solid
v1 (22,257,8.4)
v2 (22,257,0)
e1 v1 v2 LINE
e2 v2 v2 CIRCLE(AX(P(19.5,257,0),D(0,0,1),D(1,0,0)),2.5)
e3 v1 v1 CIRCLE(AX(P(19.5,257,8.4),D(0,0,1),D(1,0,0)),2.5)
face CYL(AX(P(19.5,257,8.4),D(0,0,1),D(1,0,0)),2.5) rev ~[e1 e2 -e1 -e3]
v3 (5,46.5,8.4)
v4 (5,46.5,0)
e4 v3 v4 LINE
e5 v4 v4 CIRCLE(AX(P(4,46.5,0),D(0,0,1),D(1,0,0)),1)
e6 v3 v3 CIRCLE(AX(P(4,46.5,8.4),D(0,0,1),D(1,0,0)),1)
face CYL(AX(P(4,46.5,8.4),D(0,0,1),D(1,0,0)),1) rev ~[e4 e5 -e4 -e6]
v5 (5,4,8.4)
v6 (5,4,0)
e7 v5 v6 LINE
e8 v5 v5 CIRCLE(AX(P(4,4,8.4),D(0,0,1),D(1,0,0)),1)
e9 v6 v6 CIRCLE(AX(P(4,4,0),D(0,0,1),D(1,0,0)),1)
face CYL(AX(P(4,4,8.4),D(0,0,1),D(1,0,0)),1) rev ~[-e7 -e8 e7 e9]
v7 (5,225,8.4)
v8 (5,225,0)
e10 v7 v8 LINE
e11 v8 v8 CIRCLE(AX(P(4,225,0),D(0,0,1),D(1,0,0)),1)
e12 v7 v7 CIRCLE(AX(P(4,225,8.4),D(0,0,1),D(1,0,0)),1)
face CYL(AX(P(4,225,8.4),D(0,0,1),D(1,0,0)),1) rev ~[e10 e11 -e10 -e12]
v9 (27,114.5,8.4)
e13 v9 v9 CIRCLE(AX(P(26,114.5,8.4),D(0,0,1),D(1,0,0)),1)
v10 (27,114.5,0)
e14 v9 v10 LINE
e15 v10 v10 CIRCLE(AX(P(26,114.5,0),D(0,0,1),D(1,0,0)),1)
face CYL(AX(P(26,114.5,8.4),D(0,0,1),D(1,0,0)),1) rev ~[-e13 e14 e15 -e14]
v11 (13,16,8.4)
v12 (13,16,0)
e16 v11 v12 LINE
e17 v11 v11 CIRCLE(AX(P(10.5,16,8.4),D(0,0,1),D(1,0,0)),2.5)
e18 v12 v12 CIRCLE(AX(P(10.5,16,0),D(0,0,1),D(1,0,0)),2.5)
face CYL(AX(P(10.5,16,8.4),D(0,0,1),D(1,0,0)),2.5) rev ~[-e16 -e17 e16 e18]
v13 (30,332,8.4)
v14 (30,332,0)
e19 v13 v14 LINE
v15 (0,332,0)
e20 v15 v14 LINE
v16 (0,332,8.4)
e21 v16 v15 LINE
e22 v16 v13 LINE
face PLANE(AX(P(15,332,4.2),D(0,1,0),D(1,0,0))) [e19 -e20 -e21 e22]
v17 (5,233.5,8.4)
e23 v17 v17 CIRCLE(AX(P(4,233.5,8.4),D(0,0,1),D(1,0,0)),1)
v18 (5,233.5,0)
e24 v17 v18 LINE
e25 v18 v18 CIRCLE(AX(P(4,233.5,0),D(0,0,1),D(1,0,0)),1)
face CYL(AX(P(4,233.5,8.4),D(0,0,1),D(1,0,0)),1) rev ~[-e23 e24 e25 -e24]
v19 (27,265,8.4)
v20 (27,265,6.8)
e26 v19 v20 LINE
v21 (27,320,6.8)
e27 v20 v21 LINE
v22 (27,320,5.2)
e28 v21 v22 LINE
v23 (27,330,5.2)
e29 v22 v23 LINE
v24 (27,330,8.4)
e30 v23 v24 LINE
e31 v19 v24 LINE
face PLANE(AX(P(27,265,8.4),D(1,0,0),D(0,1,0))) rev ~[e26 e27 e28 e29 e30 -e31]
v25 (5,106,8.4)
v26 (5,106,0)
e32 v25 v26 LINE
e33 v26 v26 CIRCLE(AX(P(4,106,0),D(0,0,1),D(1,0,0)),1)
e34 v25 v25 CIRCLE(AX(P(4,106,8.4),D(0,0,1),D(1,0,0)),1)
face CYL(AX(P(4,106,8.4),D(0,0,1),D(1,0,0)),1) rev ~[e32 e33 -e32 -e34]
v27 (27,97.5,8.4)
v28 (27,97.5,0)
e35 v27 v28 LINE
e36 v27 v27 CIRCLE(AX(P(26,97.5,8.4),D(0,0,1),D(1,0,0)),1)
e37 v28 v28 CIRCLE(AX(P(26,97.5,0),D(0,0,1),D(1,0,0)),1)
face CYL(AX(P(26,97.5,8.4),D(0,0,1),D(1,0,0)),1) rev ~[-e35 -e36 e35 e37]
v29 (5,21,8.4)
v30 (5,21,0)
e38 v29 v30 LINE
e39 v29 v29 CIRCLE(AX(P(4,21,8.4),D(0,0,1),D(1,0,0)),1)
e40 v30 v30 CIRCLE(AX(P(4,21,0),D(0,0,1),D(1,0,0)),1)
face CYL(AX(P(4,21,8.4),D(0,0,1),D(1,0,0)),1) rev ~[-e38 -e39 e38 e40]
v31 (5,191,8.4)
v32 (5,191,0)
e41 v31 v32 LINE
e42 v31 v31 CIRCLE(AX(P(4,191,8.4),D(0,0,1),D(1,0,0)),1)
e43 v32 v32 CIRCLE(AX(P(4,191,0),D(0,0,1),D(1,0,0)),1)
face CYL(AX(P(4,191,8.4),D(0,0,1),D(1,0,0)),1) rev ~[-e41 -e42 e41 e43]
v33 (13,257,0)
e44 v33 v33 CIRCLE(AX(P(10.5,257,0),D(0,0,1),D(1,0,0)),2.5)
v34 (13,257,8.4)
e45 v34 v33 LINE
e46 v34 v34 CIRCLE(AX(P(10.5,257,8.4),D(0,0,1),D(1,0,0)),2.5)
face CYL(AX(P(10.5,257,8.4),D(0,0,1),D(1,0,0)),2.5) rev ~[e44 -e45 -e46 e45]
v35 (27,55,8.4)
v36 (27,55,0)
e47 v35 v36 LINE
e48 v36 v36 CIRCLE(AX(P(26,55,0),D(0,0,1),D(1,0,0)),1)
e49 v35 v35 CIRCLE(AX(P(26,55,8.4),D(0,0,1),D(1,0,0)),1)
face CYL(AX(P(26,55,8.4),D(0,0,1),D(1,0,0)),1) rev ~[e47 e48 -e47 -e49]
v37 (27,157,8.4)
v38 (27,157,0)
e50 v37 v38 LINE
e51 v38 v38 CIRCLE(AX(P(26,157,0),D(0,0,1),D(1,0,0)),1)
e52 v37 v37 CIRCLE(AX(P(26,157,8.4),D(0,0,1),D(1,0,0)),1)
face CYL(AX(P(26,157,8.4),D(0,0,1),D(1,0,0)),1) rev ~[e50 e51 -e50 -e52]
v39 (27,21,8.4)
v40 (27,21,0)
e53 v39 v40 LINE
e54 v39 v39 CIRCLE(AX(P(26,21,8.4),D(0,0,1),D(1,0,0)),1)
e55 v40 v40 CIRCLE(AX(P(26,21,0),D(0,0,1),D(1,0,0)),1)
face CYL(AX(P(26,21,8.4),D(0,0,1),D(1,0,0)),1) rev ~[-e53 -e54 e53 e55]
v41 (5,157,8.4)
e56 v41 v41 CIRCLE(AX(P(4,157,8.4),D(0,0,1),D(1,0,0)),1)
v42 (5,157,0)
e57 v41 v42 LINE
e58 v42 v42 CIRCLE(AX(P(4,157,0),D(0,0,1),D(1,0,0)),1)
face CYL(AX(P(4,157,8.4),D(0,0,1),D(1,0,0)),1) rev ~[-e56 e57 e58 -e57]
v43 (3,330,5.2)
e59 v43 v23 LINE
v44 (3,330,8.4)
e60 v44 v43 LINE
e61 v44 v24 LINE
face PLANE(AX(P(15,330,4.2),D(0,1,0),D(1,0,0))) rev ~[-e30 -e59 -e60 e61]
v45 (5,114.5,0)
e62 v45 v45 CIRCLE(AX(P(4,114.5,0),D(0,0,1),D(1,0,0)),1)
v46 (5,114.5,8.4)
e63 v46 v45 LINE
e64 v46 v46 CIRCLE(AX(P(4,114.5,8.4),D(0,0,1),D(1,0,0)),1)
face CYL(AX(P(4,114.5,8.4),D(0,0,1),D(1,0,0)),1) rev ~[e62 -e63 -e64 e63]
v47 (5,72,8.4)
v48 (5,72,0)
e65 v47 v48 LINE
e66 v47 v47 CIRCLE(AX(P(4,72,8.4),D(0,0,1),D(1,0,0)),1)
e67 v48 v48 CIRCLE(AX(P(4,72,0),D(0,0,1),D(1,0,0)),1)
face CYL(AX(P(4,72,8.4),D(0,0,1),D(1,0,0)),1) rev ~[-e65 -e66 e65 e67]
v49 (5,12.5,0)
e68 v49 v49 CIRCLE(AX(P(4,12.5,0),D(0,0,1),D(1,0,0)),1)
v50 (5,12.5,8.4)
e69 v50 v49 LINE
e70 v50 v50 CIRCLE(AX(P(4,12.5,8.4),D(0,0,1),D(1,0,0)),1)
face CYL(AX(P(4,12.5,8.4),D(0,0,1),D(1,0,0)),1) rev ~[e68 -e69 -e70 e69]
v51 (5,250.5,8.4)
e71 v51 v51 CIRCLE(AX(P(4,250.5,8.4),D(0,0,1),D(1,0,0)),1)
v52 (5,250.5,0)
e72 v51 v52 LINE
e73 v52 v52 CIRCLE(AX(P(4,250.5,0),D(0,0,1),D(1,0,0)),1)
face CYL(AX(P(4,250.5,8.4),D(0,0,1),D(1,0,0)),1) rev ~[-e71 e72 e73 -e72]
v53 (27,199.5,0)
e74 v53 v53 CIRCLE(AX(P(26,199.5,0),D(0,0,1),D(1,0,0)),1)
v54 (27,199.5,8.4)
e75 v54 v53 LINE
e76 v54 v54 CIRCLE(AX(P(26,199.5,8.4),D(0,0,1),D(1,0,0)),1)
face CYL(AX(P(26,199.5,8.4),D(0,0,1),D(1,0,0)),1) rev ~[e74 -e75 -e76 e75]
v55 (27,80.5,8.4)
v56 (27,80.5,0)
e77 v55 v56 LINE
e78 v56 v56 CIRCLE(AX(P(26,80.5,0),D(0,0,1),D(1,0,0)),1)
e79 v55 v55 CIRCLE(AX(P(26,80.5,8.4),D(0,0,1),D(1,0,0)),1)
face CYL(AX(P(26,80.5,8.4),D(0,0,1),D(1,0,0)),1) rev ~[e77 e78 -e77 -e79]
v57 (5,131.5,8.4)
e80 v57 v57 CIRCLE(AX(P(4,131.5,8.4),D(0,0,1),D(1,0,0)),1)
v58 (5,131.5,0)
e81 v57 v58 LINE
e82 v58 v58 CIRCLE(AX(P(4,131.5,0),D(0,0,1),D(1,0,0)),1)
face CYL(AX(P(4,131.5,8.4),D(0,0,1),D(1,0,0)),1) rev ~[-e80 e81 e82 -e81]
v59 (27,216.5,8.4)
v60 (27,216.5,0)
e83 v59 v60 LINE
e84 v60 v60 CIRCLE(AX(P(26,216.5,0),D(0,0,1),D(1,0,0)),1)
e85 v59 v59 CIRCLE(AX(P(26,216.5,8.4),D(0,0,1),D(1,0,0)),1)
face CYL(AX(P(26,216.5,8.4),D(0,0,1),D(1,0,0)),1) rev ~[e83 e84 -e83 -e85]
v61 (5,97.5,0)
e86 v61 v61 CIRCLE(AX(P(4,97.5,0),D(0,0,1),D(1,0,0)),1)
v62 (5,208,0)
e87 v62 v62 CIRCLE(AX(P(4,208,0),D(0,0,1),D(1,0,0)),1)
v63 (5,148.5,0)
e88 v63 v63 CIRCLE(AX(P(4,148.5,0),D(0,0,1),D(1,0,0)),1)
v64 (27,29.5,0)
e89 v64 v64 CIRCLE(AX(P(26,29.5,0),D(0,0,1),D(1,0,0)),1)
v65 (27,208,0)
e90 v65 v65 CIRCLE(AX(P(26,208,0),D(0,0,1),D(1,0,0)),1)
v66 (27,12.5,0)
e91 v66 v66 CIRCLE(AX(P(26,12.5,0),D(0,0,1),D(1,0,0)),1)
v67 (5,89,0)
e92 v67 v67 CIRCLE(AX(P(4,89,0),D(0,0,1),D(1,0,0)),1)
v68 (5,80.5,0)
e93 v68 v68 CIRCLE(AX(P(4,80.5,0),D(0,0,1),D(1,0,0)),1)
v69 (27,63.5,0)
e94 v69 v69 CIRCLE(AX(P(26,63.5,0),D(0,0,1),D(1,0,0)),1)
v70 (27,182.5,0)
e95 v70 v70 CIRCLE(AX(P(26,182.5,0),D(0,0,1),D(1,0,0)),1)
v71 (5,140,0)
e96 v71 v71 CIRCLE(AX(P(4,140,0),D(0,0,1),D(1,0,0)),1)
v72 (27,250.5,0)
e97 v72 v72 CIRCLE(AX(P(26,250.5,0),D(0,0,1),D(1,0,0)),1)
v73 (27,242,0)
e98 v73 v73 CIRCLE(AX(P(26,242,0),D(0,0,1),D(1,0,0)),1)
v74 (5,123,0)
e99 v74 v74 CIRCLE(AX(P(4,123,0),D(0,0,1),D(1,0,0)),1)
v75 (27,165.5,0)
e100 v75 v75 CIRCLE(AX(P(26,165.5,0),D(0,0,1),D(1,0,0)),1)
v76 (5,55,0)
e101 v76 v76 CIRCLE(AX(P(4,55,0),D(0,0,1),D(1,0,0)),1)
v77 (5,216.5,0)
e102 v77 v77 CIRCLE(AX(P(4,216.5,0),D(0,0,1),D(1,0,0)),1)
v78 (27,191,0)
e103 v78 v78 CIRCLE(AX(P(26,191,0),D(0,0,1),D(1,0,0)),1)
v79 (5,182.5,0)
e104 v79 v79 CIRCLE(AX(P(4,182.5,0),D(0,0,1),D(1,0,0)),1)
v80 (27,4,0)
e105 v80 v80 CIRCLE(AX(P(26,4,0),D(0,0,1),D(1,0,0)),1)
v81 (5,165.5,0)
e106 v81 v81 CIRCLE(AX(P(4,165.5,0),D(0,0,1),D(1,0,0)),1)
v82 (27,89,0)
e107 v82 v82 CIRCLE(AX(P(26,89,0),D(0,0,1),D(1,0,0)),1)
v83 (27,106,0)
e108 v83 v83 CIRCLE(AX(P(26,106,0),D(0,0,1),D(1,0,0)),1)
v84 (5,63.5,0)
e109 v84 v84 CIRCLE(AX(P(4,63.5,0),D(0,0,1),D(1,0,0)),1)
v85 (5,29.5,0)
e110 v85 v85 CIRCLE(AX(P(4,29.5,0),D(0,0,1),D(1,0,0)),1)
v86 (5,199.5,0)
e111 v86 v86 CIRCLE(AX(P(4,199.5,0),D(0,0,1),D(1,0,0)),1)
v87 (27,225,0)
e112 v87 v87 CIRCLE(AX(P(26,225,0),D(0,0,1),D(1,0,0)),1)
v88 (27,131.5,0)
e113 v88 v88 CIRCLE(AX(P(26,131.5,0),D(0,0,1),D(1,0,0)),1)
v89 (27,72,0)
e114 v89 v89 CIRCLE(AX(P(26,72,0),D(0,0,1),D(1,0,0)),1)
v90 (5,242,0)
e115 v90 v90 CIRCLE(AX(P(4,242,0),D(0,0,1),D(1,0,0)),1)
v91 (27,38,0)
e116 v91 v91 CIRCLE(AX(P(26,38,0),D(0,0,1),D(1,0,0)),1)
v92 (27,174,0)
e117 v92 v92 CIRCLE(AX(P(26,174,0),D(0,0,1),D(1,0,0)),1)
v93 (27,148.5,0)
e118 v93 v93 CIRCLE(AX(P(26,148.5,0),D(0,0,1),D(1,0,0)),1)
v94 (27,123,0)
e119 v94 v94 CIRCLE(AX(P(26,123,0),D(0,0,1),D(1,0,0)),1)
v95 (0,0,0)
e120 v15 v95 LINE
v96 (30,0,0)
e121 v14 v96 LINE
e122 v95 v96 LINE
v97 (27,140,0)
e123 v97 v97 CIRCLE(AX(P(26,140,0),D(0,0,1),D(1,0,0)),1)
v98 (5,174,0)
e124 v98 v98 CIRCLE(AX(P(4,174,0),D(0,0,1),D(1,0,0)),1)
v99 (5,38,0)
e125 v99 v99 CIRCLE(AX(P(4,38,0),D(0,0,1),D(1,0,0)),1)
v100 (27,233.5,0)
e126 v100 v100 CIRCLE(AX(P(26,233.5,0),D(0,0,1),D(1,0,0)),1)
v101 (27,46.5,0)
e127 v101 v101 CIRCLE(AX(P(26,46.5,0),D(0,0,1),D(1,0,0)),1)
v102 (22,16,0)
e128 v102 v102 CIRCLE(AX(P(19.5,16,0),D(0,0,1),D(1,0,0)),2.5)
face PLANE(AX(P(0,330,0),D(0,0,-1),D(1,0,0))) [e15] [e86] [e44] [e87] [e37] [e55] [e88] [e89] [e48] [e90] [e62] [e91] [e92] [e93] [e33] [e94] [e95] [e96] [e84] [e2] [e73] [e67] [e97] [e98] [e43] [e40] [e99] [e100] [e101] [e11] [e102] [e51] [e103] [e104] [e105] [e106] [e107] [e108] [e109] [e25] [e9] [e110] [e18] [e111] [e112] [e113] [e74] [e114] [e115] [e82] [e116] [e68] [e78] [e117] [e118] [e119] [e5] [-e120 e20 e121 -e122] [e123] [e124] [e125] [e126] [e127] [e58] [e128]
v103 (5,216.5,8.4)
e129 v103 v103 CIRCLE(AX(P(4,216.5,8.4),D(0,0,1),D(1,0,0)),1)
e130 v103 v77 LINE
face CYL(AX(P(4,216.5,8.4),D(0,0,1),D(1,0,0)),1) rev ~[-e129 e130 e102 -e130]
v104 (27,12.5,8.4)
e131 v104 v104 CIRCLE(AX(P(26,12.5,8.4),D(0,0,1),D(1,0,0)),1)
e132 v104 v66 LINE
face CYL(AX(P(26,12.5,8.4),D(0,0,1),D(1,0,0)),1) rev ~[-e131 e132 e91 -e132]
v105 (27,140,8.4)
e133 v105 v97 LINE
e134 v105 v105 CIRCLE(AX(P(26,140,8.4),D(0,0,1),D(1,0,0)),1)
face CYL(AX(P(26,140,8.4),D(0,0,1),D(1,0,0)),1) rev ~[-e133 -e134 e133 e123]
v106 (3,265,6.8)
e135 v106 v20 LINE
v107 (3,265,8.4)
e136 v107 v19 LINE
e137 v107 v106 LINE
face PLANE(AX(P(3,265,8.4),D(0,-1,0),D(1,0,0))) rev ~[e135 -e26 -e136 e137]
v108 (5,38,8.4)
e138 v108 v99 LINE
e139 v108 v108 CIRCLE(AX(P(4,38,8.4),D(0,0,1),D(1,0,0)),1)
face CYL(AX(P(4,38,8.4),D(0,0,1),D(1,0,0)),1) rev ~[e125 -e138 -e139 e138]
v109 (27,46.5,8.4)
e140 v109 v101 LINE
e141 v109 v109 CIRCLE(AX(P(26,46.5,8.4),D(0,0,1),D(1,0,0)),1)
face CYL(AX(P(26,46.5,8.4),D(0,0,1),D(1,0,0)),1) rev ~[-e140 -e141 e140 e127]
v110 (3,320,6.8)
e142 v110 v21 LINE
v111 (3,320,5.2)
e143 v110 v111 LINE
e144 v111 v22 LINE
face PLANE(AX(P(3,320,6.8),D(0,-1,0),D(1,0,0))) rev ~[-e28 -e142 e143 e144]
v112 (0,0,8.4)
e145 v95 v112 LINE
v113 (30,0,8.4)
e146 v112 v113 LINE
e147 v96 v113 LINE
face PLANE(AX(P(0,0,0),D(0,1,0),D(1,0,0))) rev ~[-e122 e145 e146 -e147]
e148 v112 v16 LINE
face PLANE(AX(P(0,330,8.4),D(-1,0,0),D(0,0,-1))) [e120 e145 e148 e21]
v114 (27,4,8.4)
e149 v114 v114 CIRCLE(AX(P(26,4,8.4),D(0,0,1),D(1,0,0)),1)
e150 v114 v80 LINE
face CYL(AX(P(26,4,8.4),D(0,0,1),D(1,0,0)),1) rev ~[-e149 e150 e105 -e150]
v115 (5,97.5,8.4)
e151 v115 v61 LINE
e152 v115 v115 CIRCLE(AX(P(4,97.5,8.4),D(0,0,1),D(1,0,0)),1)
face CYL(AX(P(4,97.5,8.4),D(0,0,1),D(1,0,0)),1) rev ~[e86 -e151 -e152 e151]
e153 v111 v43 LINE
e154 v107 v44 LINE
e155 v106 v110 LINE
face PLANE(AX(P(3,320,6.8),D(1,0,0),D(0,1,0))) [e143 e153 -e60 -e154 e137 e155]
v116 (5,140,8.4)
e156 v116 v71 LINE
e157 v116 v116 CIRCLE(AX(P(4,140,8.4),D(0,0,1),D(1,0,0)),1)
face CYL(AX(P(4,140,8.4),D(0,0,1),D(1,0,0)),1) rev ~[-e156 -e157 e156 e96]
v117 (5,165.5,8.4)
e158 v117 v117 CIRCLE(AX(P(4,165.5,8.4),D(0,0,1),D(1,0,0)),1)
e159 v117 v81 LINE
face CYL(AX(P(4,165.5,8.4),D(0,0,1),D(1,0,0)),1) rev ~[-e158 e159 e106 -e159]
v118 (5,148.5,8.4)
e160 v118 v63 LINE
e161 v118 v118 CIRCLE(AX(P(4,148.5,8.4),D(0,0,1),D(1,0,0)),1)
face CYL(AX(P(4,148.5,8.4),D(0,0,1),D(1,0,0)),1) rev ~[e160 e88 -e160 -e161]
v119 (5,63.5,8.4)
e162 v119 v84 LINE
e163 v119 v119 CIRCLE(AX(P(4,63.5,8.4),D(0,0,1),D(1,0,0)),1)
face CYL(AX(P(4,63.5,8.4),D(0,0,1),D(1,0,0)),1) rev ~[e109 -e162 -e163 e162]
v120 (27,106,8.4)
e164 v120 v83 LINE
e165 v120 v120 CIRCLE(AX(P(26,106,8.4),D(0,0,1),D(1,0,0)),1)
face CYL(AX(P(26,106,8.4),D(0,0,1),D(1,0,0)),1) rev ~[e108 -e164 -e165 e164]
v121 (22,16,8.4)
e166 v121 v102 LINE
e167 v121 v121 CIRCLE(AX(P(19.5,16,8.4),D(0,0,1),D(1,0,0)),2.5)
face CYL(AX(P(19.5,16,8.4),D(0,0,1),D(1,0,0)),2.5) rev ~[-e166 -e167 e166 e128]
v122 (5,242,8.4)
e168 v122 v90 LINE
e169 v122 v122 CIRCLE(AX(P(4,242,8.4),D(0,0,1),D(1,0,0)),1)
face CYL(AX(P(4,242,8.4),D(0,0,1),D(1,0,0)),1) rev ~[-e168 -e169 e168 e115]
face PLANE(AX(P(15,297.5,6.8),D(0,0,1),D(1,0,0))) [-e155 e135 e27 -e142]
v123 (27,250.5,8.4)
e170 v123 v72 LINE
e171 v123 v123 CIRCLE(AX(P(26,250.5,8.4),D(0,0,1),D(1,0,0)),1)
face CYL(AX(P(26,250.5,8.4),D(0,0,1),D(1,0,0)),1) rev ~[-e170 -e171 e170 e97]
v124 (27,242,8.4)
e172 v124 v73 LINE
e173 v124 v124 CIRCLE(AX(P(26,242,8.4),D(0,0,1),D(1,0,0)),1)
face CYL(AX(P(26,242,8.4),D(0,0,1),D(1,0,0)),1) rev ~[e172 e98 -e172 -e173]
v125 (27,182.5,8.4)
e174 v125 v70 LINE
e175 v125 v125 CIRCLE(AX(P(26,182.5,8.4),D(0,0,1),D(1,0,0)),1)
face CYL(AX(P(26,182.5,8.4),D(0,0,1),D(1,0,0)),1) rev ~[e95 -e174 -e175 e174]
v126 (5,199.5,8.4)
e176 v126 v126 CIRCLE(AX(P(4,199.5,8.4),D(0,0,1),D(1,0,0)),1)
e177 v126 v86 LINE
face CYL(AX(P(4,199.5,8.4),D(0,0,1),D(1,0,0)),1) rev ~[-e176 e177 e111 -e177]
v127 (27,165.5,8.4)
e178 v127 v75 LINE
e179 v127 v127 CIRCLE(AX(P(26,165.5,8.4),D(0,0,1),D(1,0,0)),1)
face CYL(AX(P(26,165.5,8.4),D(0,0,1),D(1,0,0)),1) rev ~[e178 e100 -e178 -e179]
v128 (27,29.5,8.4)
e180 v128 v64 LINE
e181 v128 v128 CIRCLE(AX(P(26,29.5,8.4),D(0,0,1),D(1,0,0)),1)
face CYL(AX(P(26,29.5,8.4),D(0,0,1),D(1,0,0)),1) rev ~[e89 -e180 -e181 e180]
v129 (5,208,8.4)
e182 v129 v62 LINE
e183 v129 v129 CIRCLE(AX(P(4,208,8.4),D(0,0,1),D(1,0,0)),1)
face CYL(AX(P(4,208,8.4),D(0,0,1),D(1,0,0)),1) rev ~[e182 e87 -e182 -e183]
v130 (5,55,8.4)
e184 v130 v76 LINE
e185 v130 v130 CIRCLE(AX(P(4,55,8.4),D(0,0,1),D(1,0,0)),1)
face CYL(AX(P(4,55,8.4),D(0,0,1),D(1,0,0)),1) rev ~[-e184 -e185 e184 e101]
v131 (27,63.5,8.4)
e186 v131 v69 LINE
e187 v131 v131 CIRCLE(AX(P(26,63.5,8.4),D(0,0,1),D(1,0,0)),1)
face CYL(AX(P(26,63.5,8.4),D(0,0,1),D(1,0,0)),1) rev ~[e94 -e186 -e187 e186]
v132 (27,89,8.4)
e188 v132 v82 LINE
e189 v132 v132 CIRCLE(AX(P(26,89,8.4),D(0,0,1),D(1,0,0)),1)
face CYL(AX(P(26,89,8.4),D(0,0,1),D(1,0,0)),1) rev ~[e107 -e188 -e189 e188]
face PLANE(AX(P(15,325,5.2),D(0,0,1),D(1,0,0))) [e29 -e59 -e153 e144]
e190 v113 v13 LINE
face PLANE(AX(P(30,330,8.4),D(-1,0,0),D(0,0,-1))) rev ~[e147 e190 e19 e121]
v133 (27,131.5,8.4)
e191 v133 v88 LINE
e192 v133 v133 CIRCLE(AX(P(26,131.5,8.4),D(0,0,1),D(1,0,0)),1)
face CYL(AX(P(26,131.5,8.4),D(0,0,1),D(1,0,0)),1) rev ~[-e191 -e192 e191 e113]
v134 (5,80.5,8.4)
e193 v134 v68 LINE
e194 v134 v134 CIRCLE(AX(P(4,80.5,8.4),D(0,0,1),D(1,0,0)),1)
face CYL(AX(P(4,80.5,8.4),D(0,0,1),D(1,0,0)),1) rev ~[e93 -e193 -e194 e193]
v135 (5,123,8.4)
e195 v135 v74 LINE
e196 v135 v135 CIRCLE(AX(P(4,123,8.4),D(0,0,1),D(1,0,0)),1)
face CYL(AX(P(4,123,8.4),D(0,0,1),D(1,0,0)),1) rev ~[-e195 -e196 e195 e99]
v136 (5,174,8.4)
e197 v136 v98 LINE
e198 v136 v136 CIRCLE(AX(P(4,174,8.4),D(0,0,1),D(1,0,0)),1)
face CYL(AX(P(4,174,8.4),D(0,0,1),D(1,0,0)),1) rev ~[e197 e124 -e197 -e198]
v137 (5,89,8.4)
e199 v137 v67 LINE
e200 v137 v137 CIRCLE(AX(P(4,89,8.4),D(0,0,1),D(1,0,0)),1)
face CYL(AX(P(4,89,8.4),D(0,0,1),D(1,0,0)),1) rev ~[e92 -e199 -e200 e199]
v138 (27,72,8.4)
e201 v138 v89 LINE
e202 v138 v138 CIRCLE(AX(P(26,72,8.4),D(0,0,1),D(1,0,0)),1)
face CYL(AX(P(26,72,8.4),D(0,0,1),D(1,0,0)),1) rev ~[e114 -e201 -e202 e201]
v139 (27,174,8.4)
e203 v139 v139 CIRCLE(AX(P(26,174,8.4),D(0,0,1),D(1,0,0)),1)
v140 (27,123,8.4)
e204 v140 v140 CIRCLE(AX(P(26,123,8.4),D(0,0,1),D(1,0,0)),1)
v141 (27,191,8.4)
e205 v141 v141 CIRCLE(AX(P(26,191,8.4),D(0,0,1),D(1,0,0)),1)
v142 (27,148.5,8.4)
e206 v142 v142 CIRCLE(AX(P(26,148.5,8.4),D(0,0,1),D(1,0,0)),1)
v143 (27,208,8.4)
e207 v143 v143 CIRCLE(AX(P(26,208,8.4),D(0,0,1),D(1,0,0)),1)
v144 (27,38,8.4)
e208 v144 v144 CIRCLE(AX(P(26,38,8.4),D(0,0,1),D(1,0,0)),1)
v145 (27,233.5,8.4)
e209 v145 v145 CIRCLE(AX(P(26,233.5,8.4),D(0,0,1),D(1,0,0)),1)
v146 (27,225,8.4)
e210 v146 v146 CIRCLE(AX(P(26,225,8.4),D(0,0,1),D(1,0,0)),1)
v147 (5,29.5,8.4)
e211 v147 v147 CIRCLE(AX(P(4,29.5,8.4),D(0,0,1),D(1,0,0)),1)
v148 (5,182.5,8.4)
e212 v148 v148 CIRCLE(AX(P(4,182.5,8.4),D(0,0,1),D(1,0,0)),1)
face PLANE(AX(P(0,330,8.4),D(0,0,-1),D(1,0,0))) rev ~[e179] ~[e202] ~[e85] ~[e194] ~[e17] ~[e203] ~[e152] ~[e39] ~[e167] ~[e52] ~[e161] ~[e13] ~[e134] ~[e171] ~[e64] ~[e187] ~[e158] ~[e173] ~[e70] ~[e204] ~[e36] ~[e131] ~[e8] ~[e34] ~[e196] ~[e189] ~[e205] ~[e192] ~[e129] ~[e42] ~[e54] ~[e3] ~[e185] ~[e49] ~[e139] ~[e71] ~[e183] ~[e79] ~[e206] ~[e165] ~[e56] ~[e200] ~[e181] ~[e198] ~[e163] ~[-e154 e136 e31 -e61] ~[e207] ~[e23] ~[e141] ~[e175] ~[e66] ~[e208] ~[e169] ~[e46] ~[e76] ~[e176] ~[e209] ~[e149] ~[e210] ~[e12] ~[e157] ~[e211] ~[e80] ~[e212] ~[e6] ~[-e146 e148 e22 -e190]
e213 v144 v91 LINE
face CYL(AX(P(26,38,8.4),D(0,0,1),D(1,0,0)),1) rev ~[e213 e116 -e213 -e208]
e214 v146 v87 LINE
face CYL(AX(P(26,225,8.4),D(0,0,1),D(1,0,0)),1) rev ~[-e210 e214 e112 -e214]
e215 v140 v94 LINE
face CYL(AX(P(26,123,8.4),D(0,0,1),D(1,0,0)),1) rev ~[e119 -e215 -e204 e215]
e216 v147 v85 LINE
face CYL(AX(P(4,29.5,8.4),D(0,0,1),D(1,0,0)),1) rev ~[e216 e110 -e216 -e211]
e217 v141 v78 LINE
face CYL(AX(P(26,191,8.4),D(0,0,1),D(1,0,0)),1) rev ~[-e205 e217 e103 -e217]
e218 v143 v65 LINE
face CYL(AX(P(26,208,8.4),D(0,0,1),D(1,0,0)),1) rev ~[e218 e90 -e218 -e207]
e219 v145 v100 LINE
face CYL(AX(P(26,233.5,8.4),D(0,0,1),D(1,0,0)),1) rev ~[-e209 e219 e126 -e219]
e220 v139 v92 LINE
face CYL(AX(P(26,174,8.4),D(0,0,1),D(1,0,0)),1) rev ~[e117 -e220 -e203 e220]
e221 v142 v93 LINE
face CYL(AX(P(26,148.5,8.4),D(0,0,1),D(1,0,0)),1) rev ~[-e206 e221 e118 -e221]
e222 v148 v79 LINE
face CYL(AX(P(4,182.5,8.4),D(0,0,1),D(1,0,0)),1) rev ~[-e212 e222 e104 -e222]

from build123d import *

# Parameters (mm, degrees)
SKETCH1_W                  = 30
SKETCH1_H                  = 330
BOSS_EXTRUDE1_DEPTH        = 8.4
SKETCH2_R                  = 1
CUT_EXTRUDE1_DEPTH         = 332.467283453
LPATTERN1_COUNT            = 30
LPATTERN1_PITCH            = 8.5
LPATTERN2_COUNT            = 2
LPATTERN2_PITCH            = 22
LPATTERN2_COPY_1_SKETCH_R  = 1
LPATTERN2_COPY_1_DEPTH     = 332.467283453
LPATTERN2_COPY_2_SKETCH_R  = 1
LPATTERN2_COPY_2_DEPTH     = 332.467283453
LPATTERN2_COPY_3_SKETCH_R  = 1
LPATTERN2_COPY_3_DEPTH     = 332.467283453
LPATTERN2_COPY_4_SKETCH_R  = 1
LPATTERN2_COPY_4_DEPTH     = 332.467283453
LPATTERN2_COPY_5_SKETCH_R  = 1
LPATTERN2_COPY_5_DEPTH     = 332.467283453
LPATTERN2_COPY_6_SKETCH_R  = 1
LPATTERN2_COPY_6_DEPTH     = 332.467283453
LPATTERN2_COPY_7_SKETCH_R  = 1
LPATTERN2_COPY_7_DEPTH     = 332.467283453
LPATTERN2_COPY_8_SKETCH_R  = 1
LPATTERN2_COPY_8_DEPTH     = 332.467283453
LPATTERN2_COPY_9_SKETCH_R  = 1
LPATTERN2_COPY_9_DEPTH     = 332.467283453
LPATTERN2_COPY_10_SKETCH_R = 1
LPATTERN2_COPY_10_DEPTH    = 332.467283453
LPATTERN2_COPY_11_SKETCH_R = 1
LPATTERN2_COPY_11_DEPTH    = 332.467283453
LPATTERN2_COPY_12_SKETCH_R = 1
LPATTERN2_COPY_12_DEPTH    = 332.467283453
LPATTERN2_COPY_13_SKETCH_R = 1
LPATTERN2_COPY_13_DEPTH    = 332.467283453
LPATTERN2_COPY_14_SKETCH_R = 1
LPATTERN2_COPY_14_DEPTH    = 332.467283453
LPATTERN2_COPY_15_SKETCH_R = 1
LPATTERN2_COPY_15_DEPTH    = 332.467283453
LPATTERN2_COPY_16_SKETCH_R = 1
LPATTERN2_COPY_16_DEPTH    = 332.467283453
LPATTERN2_COPY_17_SKETCH_R = 1
LPATTERN2_COPY_17_DEPTH    = 332.467283453
LPATTERN2_COPY_18_SKETCH_R = 1
LPATTERN2_COPY_18_DEPTH    = 332.467283453
LPATTERN2_COPY_19_SKETCH_R = 1
LPATTERN2_COPY_19_DEPTH    = 332.467283453
LPATTERN2_COPY_20_SKETCH_R = 1
LPATTERN2_COPY_20_DEPTH    = 332.467283453
LPATTERN2_COPY_21_SKETCH_R = 1
LPATTERN2_COPY_21_DEPTH    = 332.467283453
LPATTERN2_COPY_22_SKETCH_R = 1
LPATTERN2_COPY_22_DEPTH    = 332.467283453
LPATTERN2_COPY_23_SKETCH_R = 1
LPATTERN2_COPY_23_DEPTH    = 332.467283453
LPATTERN2_COPY_24_SKETCH_R = 1
LPATTERN2_COPY_24_DEPTH    = 332.467283453
LPATTERN2_COPY_25_SKETCH_R = 1
LPATTERN2_COPY_25_DEPTH    = 332.467283453
LPATTERN2_COPY_26_SKETCH_R = 1
LPATTERN2_COPY_26_DEPTH    = 332.467283453
LPATTERN2_COPY_27_SKETCH_R = 1
LPATTERN2_COPY_27_DEPTH    = 332.467283453
LPATTERN2_COPY_28_SKETCH_R = 1
LPATTERN2_COPY_28_DEPTH    = 332.467283453
LPATTERN2_COPY_29_SKETCH_R = 1
LPATTERN2_COPY_29_DEPTH    = 332.467283453
SKETCH4_W                  = 24
SKETCH4_H                  = 65
CUT_EXTRUDE2_DEPTH         = 1.6
SKETCH6_W                  = 24
SKETCH6_H                  = 10
CUT_EXTRUDE3_DEPTH         = 1.6
SKETCH7_W                  = 30
SKETCH7_H                  = 8.4
BOSS_EXTRUDE2_DEPTH        = 2
SKETCH8_R                  = 2.5
CUT_EXTRUDE4_DEPTH         = 334.458483173


with BuildPart() as part:
    # Sketch1 → Boss-Extrude1 (new body)
    with BuildSketch(Plane.XY):
        with Locations((15, 165)):
            Rectangle(SKETCH1_W, SKETCH1_H)
    extrude(amount=BOSS_EXTRUDE1_DEPTH)

    # Sketch2 → Cut-Extrude1 (cut, through all)
    with BuildSketch(Plane.XY.offset(8.4)):
        with Locations((26, 4)):
            Circle(SKETCH2_R)
    cut_extrude1 = extrude(amount=-CUT_EXTRUDE1_DEPTH, mode=Mode.SUBTRACT)

    # LPattern1: Cut-Extrude1 ×30
    with Locations(*[(0, i * LPATTERN1_PITCH, 0) for i in range(1, LPATTERN1_COUNT)]):
        add(cut_extrude1, mode=Mode.SUBTRACT)

    # LPattern2: Cut-Extrude1 ×2
    with Locations(*[(-i * LPATTERN2_PITCH, 0, 0) for i in range(1, LPATTERN2_COUNT)]):
        add(cut_extrude1, mode=Mode.SUBTRACT)

    # LPattern2 copy 1 sketch → LPattern2 copy 1 (cut, through all)
    with BuildSketch(Plane(origin=(-22, 8.5, 8.4), x_dir=(1, 0, 0), z_dir=(0, 0, 1))):
        with Locations((26, 4)):
            Circle(LPATTERN2_COPY_1_SKETCH_R)
    extrude(amount=-LPATTERN2_COPY_1_DEPTH, mode=Mode.SUBTRACT)

    # LPattern2 copy 2 sketch → LPattern2 copy 2 (cut, through all)
    with BuildSketch(Plane(origin=(-22, 17, 8.4), x_dir=(1, 0, 0), z_dir=(0, 0, 1))):
        with Locations((26, 4)):
            Circle(LPATTERN2_COPY_2_SKETCH_R)
    extrude(amount=-LPATTERN2_COPY_2_DEPTH, mode=Mode.SUBTRACT)

    # LPattern2 copy 3 sketch → LPattern2 copy 3 (cut, through all)
    with BuildSketch(Plane(origin=(-22, 25.5, 8.4), x_dir=(1, 0, 0), z_dir=(0, 0, 1))):
        with Locations((26, 4)):
            Circle(LPATTERN2_COPY_3_SKETCH_R)
    extrude(amount=-LPATTERN2_COPY_3_DEPTH, mode=Mode.SUBTRACT)

    # LPattern2 copy 4 sketch → LPattern2 copy 4 (cut, through all)
    with BuildSketch(Plane(origin=(-22, 34, 8.4), x_dir=(1, 0, 0), z_dir=(0, 0, 1))):
        with Locations((26, 4)):
            Circle(LPATTERN2_COPY_4_SKETCH_R)
    extrude(amount=-LPATTERN2_COPY_4_DEPTH, mode=Mode.SUBTRACT)

    # LPattern2 copy 5 sketch → LPattern2 copy 5 (cut, through all)
    with BuildSketch(Plane(origin=(-22, 42.5, 8.4), x_dir=(1, 0, 0), z_dir=(0, 0, 1))):
        with Locations((26, 4)):
            Circle(LPATTERN2_COPY_5_SKETCH_R)
    extrude(amount=-LPATTERN2_COPY_5_DEPTH, mode=Mode.SUBTRACT)

    # LPattern2 copy 6 sketch → LPattern2 copy 6 (cut, through all)
    with BuildSketch(Plane(origin=(-22, 51, 8.4), x_dir=(1, 0, 0), z_dir=(0, 0, 1))):
        with Locations((26, 4)):
            Circle(LPATTERN2_COPY_6_SKETCH_R)
    extrude(amount=-LPATTERN2_COPY_6_DEPTH, mode=Mode.SUBTRACT)

    # LPattern2 copy 7 sketch → LPattern2 copy 7 (cut, through all)
    with BuildSketch(Plane(origin=(-22, 59.5, 8.4), x_dir=(1, 0, 0), z_dir=(0, 0, 1))):
        with Locations((26, 4)):
            Circle(LPATTERN2_COPY_7_SKETCH_R)
    extrude(amount=-LPATTERN2_COPY_7_DEPTH, mode=Mode.SUBTRACT)

    # LPattern2 copy 8 sketch → LPattern2 copy 8 (cut, through all)
    with BuildSketch(Plane(origin=(-22, 68, 8.4), x_dir=(1, 0, 0), z_dir=(0, 0, 1))):
        with Locations((26, 4)):
            Circle(LPATTERN2_COPY_8_SKETCH_R)
    extrude(amount=-LPATTERN2_COPY_8_DEPTH, mode=Mode.SUBTRACT)

    # LPattern2 copy 9 sketch → LPattern2 copy 9 (cut, through all)
    with BuildSketch(Plane(origin=(-22, 76.5, 8.4), x_dir=(1, 0, 0), z_dir=(0, 0, 1))):
        with Locations((26, 4)):
            Circle(LPATTERN2_COPY_9_SKETCH_R)
    extrude(amount=-LPATTERN2_COPY_9_DEPTH, mode=Mode.SUBTRACT)

    # LPattern2 copy 10 sketch → LPattern2 copy 10 (cut, through all)
    with BuildSketch(Plane(origin=(-22, 85, 8.4), x_dir=(1, 0, 0), z_dir=(0, 0, 1))):
        with Locations((26, 4)):
            Circle(LPATTERN2_COPY_10_SKETCH_R)
    extrude(amount=-LPATTERN2_COPY_10_DEPTH, mode=Mode.SUBTRACT)

    # LPattern2 copy 11 sketch → LPattern2 copy 11 (cut, through all)
    with BuildSketch(Plane(origin=(-22, 93.5, 8.4), x_dir=(1, 0, 0), z_dir=(0, 0, 1))):
        with Locations((26, 4)):
            Circle(LPATTERN2_COPY_11_SKETCH_R)
    extrude(amount=-LPATTERN2_COPY_11_DEPTH, mode=Mode.SUBTRACT)

    # LPattern2 copy 12 sketch → LPattern2 copy 12 (cut, through all)
    with BuildSketch(Plane(origin=(-22, 102, 8.4), x_dir=(1, 0, 0), z_dir=(0, 0, 1))):
        with Locations((26, 4)):
            Circle(LPATTERN2_COPY_12_SKETCH_R)
    extrude(amount=-LPATTERN2_COPY_12_DEPTH, mode=Mode.SUBTRACT)

    # LPattern2 copy 13 sketch → LPattern2 copy 13 (cut, through all)
    with BuildSketch(Plane(origin=(-22, 110.5, 8.4), x_dir=(1, 0, 0), z_dir=(0, 0, 1))):
        with Locations((26, 4)):
            Circle(LPATTERN2_COPY_13_SKETCH_R)
    extrude(amount=-LPATTERN2_COPY_13_DEPTH, mode=Mode.SUBTRACT)

    # LPattern2 copy 14 sketch → LPattern2 copy 14 (cut, through all)
    with BuildSketch(Plane(origin=(-22, 119, 8.4), x_dir=(1, 0, 0), z_dir=(0, 0, 1))):
        with Locations((26, 4)):
            Circle(LPATTERN2_COPY_14_SKETCH_R)
    extrude(amount=-LPATTERN2_COPY_14_DEPTH, mode=Mode.SUBTRACT)

    # LPattern2 copy 15 sketch → LPattern2 copy 15 (cut, through all)
    with BuildSketch(Plane(origin=(-22, 127.5, 8.4), x_dir=(1, 0, 0), z_dir=(0, 0, 1))):
        with Locations((26, 4)):
            Circle(LPATTERN2_COPY_15_SKETCH_R)
    extrude(amount=-LPATTERN2_COPY_15_DEPTH, mode=Mode.SUBTRACT)

    # LPattern2 copy 16 sketch → LPattern2 copy 16 (cut, through all)
    with BuildSketch(Plane(origin=(-22, 136, 8.4), x_dir=(1, 0, 0), z_dir=(0, 0, 1))):
        with Locations((26, 4)):
            Circle(LPATTERN2_COPY_16_SKETCH_R)
    extrude(amount=-LPATTERN2_COPY_16_DEPTH, mode=Mode.SUBTRACT)

    # LPattern2 copy 17 sketch → LPattern2 copy 17 (cut, through all)
    with BuildSketch(Plane(origin=(-22, 144.5, 8.4), x_dir=(1, 0, 0), z_dir=(0, 0, 1))):
        with Locations((26, 4)):
            Circle(LPATTERN2_COPY_17_SKETCH_R)
    extrude(amount=-LPATTERN2_COPY_17_DEPTH, mode=Mode.SUBTRACT)

    # LPattern2 copy 18 sketch → LPattern2 copy 18 (cut, through all)
    with BuildSketch(Plane(origin=(-22, 153, 8.4), x_dir=(1, 0, 0), z_dir=(0, 0, 1))):
        with Locations((26, 4)):
            Circle(LPATTERN2_COPY_18_SKETCH_R)
    extrude(amount=-LPATTERN2_COPY_18_DEPTH, mode=Mode.SUBTRACT)

    # LPattern2 copy 19 sketch → LPattern2 copy 19 (cut, through all)
    with BuildSketch(Plane(origin=(-22, 161.5, 8.4), x_dir=(1, 0, 0), z_dir=(0, 0, 1))):
        with Locations((26, 4)):
            Circle(LPATTERN2_COPY_19_SKETCH_R)
    extrude(amount=-LPATTERN2_COPY_19_DEPTH, mode=Mode.SUBTRACT)

    # LPattern2 copy 20 sketch → LPattern2 copy 20 (cut, through all)
    with BuildSketch(Plane(origin=(-22, 170, 8.4), x_dir=(1, 0, 0), z_dir=(0, 0, 1))):
        with Locations((26, 4)):
            Circle(LPATTERN2_COPY_20_SKETCH_R)
    extrude(amount=-LPATTERN2_COPY_20_DEPTH, mode=Mode.SUBTRACT)

    # LPattern2 copy 21 sketch → LPattern2 copy 21 (cut, through all)
    with BuildSketch(Plane(origin=(-22, 178.5, 8.4), x_dir=(1, 0, 0), z_dir=(0, 0, 1))):
        with Locations((26, 4)):
            Circle(LPATTERN2_COPY_21_SKETCH_R)
    extrude(amount=-LPATTERN2_COPY_21_DEPTH, mode=Mode.SUBTRACT)

    # LPattern2 copy 22 sketch → LPattern2 copy 22 (cut, through all)
    with BuildSketch(Plane(origin=(-22, 187, 8.4), x_dir=(1, 0, 0), z_dir=(0, 0, 1))):
        with Locations((26, 4)):
            Circle(LPATTERN2_COPY_22_SKETCH_R)
    extrude(amount=-LPATTERN2_COPY_22_DEPTH, mode=Mode.SUBTRACT)

    # LPattern2 copy 23 sketch → LPattern2 copy 23 (cut, through all)
    with BuildSketch(Plane(origin=(-22, 195.5, 8.4), x_dir=(1, 0, 0), z_dir=(0, 0, 1))):
        with Locations((26, 4)):
            Circle(LPATTERN2_COPY_23_SKETCH_R)
    extrude(amount=-LPATTERN2_COPY_23_DEPTH, mode=Mode.SUBTRACT)

    # LPattern2 copy 24 sketch → LPattern2 copy 24 (cut, through all)
    with BuildSketch(Plane(origin=(-22, 204, 8.4), x_dir=(1, 0, 0), z_dir=(0, 0, 1))):
        with Locations((26, 4)):
            Circle(LPATTERN2_COPY_24_SKETCH_R)
    extrude(amount=-LPATTERN2_COPY_24_DEPTH, mode=Mode.SUBTRACT)

    # LPattern2 copy 25 sketch → LPattern2 copy 25 (cut, through all)
    with BuildSketch(Plane(origin=(-22, 212.5, 8.4), x_dir=(1, 0, 0), z_dir=(0, 0, 1))):
        with Locations((26, 4)):
            Circle(LPATTERN2_COPY_25_SKETCH_R)
    extrude(amount=-LPATTERN2_COPY_25_DEPTH, mode=Mode.SUBTRACT)

    # LPattern2 copy 26 sketch → LPattern2 copy 26 (cut, through all)
    with BuildSketch(Plane(origin=(-22, 221, 8.4), x_dir=(1, 0, 0), z_dir=(0, 0, 1))):
        with Locations((26, 4)):
            Circle(LPATTERN2_COPY_26_SKETCH_R)
    extrude(amount=-LPATTERN2_COPY_26_DEPTH, mode=Mode.SUBTRACT)

    # LPattern2 copy 27 sketch → LPattern2 copy 27 (cut, through all)
    with BuildSketch(Plane(origin=(-22, 229.5, 8.4), x_dir=(1, 0, 0), z_dir=(0, 0, 1))):
        with Locations((26, 4)):
            Circle(LPATTERN2_COPY_27_SKETCH_R)
    extrude(amount=-LPATTERN2_COPY_27_DEPTH, mode=Mode.SUBTRACT)

    # LPattern2 copy 28 sketch → LPattern2 copy 28 (cut, through all)
    with BuildSketch(Plane(origin=(-22, 238, 8.4), x_dir=(1, 0, 0), z_dir=(0, 0, 1))):
        with Locations((26, 4)):
            Circle(LPATTERN2_COPY_28_SKETCH_R)
    extrude(amount=-LPATTERN2_COPY_28_DEPTH, mode=Mode.SUBTRACT)

    # LPattern2 copy 29 sketch → LPattern2 copy 29 (cut, through all)
    with BuildSketch(Plane(origin=(-22, 246.5, 8.4), x_dir=(1, 0, 0), z_dir=(0, 0, 1))):
        with Locations((26, 4)):
            Circle(LPATTERN2_COPY_29_SKETCH_R)
    extrude(amount=-LPATTERN2_COPY_29_DEPTH, mode=Mode.SUBTRACT)

    # Sketch4 → Cut-Extrude2 (cut)
    with BuildSketch(Plane.XY.offset(8.4)):
        with Locations((15, 297.5)):
            Rectangle(SKETCH4_W, SKETCH4_H)
    extrude(amount=-CUT_EXTRUDE2_DEPTH, mode=Mode.SUBTRACT)

    # Sketch6 → Cut-Extrude3 (cut)
    with BuildSketch(Plane.XY.offset(6.8)):
        with Locations((15, 325)):
            Rectangle(SKETCH6_W, SKETCH6_H)
    extrude(amount=-CUT_EXTRUDE3_DEPTH, mode=Mode.SUBTRACT)

    # Sketch7 → Boss-Extrude2 (add)
    with BuildSketch(Plane(origin=(0, 330, 0), x_dir=(1, 0, 0), z_dir=(0, 1, 0))):
        with Locations((15, -4.2)):
            Rectangle(SKETCH7_W, SKETCH7_H)
    extrude(amount=BOSS_EXTRUDE2_DEPTH)

    # Sketch8 → Cut-Extrude4 (cut, through all)
    with BuildSketch(Plane.XY.offset(8.4)):
        with Locations((10.5, 16)):
            Circle(SKETCH8_R)
        with Locations((19.5, 257)):
            Circle(SKETCH8_R)
        with Locations((19.5, 16)):
            Circle(SKETCH8_R)
        with Locations((10.5, 257)):
            Circle(SKETCH8_R)
    extrude(amount=-CUT_EXTRUDE4_DEPTH, mode=Mode.SUBTRACT)


solid = part.part
